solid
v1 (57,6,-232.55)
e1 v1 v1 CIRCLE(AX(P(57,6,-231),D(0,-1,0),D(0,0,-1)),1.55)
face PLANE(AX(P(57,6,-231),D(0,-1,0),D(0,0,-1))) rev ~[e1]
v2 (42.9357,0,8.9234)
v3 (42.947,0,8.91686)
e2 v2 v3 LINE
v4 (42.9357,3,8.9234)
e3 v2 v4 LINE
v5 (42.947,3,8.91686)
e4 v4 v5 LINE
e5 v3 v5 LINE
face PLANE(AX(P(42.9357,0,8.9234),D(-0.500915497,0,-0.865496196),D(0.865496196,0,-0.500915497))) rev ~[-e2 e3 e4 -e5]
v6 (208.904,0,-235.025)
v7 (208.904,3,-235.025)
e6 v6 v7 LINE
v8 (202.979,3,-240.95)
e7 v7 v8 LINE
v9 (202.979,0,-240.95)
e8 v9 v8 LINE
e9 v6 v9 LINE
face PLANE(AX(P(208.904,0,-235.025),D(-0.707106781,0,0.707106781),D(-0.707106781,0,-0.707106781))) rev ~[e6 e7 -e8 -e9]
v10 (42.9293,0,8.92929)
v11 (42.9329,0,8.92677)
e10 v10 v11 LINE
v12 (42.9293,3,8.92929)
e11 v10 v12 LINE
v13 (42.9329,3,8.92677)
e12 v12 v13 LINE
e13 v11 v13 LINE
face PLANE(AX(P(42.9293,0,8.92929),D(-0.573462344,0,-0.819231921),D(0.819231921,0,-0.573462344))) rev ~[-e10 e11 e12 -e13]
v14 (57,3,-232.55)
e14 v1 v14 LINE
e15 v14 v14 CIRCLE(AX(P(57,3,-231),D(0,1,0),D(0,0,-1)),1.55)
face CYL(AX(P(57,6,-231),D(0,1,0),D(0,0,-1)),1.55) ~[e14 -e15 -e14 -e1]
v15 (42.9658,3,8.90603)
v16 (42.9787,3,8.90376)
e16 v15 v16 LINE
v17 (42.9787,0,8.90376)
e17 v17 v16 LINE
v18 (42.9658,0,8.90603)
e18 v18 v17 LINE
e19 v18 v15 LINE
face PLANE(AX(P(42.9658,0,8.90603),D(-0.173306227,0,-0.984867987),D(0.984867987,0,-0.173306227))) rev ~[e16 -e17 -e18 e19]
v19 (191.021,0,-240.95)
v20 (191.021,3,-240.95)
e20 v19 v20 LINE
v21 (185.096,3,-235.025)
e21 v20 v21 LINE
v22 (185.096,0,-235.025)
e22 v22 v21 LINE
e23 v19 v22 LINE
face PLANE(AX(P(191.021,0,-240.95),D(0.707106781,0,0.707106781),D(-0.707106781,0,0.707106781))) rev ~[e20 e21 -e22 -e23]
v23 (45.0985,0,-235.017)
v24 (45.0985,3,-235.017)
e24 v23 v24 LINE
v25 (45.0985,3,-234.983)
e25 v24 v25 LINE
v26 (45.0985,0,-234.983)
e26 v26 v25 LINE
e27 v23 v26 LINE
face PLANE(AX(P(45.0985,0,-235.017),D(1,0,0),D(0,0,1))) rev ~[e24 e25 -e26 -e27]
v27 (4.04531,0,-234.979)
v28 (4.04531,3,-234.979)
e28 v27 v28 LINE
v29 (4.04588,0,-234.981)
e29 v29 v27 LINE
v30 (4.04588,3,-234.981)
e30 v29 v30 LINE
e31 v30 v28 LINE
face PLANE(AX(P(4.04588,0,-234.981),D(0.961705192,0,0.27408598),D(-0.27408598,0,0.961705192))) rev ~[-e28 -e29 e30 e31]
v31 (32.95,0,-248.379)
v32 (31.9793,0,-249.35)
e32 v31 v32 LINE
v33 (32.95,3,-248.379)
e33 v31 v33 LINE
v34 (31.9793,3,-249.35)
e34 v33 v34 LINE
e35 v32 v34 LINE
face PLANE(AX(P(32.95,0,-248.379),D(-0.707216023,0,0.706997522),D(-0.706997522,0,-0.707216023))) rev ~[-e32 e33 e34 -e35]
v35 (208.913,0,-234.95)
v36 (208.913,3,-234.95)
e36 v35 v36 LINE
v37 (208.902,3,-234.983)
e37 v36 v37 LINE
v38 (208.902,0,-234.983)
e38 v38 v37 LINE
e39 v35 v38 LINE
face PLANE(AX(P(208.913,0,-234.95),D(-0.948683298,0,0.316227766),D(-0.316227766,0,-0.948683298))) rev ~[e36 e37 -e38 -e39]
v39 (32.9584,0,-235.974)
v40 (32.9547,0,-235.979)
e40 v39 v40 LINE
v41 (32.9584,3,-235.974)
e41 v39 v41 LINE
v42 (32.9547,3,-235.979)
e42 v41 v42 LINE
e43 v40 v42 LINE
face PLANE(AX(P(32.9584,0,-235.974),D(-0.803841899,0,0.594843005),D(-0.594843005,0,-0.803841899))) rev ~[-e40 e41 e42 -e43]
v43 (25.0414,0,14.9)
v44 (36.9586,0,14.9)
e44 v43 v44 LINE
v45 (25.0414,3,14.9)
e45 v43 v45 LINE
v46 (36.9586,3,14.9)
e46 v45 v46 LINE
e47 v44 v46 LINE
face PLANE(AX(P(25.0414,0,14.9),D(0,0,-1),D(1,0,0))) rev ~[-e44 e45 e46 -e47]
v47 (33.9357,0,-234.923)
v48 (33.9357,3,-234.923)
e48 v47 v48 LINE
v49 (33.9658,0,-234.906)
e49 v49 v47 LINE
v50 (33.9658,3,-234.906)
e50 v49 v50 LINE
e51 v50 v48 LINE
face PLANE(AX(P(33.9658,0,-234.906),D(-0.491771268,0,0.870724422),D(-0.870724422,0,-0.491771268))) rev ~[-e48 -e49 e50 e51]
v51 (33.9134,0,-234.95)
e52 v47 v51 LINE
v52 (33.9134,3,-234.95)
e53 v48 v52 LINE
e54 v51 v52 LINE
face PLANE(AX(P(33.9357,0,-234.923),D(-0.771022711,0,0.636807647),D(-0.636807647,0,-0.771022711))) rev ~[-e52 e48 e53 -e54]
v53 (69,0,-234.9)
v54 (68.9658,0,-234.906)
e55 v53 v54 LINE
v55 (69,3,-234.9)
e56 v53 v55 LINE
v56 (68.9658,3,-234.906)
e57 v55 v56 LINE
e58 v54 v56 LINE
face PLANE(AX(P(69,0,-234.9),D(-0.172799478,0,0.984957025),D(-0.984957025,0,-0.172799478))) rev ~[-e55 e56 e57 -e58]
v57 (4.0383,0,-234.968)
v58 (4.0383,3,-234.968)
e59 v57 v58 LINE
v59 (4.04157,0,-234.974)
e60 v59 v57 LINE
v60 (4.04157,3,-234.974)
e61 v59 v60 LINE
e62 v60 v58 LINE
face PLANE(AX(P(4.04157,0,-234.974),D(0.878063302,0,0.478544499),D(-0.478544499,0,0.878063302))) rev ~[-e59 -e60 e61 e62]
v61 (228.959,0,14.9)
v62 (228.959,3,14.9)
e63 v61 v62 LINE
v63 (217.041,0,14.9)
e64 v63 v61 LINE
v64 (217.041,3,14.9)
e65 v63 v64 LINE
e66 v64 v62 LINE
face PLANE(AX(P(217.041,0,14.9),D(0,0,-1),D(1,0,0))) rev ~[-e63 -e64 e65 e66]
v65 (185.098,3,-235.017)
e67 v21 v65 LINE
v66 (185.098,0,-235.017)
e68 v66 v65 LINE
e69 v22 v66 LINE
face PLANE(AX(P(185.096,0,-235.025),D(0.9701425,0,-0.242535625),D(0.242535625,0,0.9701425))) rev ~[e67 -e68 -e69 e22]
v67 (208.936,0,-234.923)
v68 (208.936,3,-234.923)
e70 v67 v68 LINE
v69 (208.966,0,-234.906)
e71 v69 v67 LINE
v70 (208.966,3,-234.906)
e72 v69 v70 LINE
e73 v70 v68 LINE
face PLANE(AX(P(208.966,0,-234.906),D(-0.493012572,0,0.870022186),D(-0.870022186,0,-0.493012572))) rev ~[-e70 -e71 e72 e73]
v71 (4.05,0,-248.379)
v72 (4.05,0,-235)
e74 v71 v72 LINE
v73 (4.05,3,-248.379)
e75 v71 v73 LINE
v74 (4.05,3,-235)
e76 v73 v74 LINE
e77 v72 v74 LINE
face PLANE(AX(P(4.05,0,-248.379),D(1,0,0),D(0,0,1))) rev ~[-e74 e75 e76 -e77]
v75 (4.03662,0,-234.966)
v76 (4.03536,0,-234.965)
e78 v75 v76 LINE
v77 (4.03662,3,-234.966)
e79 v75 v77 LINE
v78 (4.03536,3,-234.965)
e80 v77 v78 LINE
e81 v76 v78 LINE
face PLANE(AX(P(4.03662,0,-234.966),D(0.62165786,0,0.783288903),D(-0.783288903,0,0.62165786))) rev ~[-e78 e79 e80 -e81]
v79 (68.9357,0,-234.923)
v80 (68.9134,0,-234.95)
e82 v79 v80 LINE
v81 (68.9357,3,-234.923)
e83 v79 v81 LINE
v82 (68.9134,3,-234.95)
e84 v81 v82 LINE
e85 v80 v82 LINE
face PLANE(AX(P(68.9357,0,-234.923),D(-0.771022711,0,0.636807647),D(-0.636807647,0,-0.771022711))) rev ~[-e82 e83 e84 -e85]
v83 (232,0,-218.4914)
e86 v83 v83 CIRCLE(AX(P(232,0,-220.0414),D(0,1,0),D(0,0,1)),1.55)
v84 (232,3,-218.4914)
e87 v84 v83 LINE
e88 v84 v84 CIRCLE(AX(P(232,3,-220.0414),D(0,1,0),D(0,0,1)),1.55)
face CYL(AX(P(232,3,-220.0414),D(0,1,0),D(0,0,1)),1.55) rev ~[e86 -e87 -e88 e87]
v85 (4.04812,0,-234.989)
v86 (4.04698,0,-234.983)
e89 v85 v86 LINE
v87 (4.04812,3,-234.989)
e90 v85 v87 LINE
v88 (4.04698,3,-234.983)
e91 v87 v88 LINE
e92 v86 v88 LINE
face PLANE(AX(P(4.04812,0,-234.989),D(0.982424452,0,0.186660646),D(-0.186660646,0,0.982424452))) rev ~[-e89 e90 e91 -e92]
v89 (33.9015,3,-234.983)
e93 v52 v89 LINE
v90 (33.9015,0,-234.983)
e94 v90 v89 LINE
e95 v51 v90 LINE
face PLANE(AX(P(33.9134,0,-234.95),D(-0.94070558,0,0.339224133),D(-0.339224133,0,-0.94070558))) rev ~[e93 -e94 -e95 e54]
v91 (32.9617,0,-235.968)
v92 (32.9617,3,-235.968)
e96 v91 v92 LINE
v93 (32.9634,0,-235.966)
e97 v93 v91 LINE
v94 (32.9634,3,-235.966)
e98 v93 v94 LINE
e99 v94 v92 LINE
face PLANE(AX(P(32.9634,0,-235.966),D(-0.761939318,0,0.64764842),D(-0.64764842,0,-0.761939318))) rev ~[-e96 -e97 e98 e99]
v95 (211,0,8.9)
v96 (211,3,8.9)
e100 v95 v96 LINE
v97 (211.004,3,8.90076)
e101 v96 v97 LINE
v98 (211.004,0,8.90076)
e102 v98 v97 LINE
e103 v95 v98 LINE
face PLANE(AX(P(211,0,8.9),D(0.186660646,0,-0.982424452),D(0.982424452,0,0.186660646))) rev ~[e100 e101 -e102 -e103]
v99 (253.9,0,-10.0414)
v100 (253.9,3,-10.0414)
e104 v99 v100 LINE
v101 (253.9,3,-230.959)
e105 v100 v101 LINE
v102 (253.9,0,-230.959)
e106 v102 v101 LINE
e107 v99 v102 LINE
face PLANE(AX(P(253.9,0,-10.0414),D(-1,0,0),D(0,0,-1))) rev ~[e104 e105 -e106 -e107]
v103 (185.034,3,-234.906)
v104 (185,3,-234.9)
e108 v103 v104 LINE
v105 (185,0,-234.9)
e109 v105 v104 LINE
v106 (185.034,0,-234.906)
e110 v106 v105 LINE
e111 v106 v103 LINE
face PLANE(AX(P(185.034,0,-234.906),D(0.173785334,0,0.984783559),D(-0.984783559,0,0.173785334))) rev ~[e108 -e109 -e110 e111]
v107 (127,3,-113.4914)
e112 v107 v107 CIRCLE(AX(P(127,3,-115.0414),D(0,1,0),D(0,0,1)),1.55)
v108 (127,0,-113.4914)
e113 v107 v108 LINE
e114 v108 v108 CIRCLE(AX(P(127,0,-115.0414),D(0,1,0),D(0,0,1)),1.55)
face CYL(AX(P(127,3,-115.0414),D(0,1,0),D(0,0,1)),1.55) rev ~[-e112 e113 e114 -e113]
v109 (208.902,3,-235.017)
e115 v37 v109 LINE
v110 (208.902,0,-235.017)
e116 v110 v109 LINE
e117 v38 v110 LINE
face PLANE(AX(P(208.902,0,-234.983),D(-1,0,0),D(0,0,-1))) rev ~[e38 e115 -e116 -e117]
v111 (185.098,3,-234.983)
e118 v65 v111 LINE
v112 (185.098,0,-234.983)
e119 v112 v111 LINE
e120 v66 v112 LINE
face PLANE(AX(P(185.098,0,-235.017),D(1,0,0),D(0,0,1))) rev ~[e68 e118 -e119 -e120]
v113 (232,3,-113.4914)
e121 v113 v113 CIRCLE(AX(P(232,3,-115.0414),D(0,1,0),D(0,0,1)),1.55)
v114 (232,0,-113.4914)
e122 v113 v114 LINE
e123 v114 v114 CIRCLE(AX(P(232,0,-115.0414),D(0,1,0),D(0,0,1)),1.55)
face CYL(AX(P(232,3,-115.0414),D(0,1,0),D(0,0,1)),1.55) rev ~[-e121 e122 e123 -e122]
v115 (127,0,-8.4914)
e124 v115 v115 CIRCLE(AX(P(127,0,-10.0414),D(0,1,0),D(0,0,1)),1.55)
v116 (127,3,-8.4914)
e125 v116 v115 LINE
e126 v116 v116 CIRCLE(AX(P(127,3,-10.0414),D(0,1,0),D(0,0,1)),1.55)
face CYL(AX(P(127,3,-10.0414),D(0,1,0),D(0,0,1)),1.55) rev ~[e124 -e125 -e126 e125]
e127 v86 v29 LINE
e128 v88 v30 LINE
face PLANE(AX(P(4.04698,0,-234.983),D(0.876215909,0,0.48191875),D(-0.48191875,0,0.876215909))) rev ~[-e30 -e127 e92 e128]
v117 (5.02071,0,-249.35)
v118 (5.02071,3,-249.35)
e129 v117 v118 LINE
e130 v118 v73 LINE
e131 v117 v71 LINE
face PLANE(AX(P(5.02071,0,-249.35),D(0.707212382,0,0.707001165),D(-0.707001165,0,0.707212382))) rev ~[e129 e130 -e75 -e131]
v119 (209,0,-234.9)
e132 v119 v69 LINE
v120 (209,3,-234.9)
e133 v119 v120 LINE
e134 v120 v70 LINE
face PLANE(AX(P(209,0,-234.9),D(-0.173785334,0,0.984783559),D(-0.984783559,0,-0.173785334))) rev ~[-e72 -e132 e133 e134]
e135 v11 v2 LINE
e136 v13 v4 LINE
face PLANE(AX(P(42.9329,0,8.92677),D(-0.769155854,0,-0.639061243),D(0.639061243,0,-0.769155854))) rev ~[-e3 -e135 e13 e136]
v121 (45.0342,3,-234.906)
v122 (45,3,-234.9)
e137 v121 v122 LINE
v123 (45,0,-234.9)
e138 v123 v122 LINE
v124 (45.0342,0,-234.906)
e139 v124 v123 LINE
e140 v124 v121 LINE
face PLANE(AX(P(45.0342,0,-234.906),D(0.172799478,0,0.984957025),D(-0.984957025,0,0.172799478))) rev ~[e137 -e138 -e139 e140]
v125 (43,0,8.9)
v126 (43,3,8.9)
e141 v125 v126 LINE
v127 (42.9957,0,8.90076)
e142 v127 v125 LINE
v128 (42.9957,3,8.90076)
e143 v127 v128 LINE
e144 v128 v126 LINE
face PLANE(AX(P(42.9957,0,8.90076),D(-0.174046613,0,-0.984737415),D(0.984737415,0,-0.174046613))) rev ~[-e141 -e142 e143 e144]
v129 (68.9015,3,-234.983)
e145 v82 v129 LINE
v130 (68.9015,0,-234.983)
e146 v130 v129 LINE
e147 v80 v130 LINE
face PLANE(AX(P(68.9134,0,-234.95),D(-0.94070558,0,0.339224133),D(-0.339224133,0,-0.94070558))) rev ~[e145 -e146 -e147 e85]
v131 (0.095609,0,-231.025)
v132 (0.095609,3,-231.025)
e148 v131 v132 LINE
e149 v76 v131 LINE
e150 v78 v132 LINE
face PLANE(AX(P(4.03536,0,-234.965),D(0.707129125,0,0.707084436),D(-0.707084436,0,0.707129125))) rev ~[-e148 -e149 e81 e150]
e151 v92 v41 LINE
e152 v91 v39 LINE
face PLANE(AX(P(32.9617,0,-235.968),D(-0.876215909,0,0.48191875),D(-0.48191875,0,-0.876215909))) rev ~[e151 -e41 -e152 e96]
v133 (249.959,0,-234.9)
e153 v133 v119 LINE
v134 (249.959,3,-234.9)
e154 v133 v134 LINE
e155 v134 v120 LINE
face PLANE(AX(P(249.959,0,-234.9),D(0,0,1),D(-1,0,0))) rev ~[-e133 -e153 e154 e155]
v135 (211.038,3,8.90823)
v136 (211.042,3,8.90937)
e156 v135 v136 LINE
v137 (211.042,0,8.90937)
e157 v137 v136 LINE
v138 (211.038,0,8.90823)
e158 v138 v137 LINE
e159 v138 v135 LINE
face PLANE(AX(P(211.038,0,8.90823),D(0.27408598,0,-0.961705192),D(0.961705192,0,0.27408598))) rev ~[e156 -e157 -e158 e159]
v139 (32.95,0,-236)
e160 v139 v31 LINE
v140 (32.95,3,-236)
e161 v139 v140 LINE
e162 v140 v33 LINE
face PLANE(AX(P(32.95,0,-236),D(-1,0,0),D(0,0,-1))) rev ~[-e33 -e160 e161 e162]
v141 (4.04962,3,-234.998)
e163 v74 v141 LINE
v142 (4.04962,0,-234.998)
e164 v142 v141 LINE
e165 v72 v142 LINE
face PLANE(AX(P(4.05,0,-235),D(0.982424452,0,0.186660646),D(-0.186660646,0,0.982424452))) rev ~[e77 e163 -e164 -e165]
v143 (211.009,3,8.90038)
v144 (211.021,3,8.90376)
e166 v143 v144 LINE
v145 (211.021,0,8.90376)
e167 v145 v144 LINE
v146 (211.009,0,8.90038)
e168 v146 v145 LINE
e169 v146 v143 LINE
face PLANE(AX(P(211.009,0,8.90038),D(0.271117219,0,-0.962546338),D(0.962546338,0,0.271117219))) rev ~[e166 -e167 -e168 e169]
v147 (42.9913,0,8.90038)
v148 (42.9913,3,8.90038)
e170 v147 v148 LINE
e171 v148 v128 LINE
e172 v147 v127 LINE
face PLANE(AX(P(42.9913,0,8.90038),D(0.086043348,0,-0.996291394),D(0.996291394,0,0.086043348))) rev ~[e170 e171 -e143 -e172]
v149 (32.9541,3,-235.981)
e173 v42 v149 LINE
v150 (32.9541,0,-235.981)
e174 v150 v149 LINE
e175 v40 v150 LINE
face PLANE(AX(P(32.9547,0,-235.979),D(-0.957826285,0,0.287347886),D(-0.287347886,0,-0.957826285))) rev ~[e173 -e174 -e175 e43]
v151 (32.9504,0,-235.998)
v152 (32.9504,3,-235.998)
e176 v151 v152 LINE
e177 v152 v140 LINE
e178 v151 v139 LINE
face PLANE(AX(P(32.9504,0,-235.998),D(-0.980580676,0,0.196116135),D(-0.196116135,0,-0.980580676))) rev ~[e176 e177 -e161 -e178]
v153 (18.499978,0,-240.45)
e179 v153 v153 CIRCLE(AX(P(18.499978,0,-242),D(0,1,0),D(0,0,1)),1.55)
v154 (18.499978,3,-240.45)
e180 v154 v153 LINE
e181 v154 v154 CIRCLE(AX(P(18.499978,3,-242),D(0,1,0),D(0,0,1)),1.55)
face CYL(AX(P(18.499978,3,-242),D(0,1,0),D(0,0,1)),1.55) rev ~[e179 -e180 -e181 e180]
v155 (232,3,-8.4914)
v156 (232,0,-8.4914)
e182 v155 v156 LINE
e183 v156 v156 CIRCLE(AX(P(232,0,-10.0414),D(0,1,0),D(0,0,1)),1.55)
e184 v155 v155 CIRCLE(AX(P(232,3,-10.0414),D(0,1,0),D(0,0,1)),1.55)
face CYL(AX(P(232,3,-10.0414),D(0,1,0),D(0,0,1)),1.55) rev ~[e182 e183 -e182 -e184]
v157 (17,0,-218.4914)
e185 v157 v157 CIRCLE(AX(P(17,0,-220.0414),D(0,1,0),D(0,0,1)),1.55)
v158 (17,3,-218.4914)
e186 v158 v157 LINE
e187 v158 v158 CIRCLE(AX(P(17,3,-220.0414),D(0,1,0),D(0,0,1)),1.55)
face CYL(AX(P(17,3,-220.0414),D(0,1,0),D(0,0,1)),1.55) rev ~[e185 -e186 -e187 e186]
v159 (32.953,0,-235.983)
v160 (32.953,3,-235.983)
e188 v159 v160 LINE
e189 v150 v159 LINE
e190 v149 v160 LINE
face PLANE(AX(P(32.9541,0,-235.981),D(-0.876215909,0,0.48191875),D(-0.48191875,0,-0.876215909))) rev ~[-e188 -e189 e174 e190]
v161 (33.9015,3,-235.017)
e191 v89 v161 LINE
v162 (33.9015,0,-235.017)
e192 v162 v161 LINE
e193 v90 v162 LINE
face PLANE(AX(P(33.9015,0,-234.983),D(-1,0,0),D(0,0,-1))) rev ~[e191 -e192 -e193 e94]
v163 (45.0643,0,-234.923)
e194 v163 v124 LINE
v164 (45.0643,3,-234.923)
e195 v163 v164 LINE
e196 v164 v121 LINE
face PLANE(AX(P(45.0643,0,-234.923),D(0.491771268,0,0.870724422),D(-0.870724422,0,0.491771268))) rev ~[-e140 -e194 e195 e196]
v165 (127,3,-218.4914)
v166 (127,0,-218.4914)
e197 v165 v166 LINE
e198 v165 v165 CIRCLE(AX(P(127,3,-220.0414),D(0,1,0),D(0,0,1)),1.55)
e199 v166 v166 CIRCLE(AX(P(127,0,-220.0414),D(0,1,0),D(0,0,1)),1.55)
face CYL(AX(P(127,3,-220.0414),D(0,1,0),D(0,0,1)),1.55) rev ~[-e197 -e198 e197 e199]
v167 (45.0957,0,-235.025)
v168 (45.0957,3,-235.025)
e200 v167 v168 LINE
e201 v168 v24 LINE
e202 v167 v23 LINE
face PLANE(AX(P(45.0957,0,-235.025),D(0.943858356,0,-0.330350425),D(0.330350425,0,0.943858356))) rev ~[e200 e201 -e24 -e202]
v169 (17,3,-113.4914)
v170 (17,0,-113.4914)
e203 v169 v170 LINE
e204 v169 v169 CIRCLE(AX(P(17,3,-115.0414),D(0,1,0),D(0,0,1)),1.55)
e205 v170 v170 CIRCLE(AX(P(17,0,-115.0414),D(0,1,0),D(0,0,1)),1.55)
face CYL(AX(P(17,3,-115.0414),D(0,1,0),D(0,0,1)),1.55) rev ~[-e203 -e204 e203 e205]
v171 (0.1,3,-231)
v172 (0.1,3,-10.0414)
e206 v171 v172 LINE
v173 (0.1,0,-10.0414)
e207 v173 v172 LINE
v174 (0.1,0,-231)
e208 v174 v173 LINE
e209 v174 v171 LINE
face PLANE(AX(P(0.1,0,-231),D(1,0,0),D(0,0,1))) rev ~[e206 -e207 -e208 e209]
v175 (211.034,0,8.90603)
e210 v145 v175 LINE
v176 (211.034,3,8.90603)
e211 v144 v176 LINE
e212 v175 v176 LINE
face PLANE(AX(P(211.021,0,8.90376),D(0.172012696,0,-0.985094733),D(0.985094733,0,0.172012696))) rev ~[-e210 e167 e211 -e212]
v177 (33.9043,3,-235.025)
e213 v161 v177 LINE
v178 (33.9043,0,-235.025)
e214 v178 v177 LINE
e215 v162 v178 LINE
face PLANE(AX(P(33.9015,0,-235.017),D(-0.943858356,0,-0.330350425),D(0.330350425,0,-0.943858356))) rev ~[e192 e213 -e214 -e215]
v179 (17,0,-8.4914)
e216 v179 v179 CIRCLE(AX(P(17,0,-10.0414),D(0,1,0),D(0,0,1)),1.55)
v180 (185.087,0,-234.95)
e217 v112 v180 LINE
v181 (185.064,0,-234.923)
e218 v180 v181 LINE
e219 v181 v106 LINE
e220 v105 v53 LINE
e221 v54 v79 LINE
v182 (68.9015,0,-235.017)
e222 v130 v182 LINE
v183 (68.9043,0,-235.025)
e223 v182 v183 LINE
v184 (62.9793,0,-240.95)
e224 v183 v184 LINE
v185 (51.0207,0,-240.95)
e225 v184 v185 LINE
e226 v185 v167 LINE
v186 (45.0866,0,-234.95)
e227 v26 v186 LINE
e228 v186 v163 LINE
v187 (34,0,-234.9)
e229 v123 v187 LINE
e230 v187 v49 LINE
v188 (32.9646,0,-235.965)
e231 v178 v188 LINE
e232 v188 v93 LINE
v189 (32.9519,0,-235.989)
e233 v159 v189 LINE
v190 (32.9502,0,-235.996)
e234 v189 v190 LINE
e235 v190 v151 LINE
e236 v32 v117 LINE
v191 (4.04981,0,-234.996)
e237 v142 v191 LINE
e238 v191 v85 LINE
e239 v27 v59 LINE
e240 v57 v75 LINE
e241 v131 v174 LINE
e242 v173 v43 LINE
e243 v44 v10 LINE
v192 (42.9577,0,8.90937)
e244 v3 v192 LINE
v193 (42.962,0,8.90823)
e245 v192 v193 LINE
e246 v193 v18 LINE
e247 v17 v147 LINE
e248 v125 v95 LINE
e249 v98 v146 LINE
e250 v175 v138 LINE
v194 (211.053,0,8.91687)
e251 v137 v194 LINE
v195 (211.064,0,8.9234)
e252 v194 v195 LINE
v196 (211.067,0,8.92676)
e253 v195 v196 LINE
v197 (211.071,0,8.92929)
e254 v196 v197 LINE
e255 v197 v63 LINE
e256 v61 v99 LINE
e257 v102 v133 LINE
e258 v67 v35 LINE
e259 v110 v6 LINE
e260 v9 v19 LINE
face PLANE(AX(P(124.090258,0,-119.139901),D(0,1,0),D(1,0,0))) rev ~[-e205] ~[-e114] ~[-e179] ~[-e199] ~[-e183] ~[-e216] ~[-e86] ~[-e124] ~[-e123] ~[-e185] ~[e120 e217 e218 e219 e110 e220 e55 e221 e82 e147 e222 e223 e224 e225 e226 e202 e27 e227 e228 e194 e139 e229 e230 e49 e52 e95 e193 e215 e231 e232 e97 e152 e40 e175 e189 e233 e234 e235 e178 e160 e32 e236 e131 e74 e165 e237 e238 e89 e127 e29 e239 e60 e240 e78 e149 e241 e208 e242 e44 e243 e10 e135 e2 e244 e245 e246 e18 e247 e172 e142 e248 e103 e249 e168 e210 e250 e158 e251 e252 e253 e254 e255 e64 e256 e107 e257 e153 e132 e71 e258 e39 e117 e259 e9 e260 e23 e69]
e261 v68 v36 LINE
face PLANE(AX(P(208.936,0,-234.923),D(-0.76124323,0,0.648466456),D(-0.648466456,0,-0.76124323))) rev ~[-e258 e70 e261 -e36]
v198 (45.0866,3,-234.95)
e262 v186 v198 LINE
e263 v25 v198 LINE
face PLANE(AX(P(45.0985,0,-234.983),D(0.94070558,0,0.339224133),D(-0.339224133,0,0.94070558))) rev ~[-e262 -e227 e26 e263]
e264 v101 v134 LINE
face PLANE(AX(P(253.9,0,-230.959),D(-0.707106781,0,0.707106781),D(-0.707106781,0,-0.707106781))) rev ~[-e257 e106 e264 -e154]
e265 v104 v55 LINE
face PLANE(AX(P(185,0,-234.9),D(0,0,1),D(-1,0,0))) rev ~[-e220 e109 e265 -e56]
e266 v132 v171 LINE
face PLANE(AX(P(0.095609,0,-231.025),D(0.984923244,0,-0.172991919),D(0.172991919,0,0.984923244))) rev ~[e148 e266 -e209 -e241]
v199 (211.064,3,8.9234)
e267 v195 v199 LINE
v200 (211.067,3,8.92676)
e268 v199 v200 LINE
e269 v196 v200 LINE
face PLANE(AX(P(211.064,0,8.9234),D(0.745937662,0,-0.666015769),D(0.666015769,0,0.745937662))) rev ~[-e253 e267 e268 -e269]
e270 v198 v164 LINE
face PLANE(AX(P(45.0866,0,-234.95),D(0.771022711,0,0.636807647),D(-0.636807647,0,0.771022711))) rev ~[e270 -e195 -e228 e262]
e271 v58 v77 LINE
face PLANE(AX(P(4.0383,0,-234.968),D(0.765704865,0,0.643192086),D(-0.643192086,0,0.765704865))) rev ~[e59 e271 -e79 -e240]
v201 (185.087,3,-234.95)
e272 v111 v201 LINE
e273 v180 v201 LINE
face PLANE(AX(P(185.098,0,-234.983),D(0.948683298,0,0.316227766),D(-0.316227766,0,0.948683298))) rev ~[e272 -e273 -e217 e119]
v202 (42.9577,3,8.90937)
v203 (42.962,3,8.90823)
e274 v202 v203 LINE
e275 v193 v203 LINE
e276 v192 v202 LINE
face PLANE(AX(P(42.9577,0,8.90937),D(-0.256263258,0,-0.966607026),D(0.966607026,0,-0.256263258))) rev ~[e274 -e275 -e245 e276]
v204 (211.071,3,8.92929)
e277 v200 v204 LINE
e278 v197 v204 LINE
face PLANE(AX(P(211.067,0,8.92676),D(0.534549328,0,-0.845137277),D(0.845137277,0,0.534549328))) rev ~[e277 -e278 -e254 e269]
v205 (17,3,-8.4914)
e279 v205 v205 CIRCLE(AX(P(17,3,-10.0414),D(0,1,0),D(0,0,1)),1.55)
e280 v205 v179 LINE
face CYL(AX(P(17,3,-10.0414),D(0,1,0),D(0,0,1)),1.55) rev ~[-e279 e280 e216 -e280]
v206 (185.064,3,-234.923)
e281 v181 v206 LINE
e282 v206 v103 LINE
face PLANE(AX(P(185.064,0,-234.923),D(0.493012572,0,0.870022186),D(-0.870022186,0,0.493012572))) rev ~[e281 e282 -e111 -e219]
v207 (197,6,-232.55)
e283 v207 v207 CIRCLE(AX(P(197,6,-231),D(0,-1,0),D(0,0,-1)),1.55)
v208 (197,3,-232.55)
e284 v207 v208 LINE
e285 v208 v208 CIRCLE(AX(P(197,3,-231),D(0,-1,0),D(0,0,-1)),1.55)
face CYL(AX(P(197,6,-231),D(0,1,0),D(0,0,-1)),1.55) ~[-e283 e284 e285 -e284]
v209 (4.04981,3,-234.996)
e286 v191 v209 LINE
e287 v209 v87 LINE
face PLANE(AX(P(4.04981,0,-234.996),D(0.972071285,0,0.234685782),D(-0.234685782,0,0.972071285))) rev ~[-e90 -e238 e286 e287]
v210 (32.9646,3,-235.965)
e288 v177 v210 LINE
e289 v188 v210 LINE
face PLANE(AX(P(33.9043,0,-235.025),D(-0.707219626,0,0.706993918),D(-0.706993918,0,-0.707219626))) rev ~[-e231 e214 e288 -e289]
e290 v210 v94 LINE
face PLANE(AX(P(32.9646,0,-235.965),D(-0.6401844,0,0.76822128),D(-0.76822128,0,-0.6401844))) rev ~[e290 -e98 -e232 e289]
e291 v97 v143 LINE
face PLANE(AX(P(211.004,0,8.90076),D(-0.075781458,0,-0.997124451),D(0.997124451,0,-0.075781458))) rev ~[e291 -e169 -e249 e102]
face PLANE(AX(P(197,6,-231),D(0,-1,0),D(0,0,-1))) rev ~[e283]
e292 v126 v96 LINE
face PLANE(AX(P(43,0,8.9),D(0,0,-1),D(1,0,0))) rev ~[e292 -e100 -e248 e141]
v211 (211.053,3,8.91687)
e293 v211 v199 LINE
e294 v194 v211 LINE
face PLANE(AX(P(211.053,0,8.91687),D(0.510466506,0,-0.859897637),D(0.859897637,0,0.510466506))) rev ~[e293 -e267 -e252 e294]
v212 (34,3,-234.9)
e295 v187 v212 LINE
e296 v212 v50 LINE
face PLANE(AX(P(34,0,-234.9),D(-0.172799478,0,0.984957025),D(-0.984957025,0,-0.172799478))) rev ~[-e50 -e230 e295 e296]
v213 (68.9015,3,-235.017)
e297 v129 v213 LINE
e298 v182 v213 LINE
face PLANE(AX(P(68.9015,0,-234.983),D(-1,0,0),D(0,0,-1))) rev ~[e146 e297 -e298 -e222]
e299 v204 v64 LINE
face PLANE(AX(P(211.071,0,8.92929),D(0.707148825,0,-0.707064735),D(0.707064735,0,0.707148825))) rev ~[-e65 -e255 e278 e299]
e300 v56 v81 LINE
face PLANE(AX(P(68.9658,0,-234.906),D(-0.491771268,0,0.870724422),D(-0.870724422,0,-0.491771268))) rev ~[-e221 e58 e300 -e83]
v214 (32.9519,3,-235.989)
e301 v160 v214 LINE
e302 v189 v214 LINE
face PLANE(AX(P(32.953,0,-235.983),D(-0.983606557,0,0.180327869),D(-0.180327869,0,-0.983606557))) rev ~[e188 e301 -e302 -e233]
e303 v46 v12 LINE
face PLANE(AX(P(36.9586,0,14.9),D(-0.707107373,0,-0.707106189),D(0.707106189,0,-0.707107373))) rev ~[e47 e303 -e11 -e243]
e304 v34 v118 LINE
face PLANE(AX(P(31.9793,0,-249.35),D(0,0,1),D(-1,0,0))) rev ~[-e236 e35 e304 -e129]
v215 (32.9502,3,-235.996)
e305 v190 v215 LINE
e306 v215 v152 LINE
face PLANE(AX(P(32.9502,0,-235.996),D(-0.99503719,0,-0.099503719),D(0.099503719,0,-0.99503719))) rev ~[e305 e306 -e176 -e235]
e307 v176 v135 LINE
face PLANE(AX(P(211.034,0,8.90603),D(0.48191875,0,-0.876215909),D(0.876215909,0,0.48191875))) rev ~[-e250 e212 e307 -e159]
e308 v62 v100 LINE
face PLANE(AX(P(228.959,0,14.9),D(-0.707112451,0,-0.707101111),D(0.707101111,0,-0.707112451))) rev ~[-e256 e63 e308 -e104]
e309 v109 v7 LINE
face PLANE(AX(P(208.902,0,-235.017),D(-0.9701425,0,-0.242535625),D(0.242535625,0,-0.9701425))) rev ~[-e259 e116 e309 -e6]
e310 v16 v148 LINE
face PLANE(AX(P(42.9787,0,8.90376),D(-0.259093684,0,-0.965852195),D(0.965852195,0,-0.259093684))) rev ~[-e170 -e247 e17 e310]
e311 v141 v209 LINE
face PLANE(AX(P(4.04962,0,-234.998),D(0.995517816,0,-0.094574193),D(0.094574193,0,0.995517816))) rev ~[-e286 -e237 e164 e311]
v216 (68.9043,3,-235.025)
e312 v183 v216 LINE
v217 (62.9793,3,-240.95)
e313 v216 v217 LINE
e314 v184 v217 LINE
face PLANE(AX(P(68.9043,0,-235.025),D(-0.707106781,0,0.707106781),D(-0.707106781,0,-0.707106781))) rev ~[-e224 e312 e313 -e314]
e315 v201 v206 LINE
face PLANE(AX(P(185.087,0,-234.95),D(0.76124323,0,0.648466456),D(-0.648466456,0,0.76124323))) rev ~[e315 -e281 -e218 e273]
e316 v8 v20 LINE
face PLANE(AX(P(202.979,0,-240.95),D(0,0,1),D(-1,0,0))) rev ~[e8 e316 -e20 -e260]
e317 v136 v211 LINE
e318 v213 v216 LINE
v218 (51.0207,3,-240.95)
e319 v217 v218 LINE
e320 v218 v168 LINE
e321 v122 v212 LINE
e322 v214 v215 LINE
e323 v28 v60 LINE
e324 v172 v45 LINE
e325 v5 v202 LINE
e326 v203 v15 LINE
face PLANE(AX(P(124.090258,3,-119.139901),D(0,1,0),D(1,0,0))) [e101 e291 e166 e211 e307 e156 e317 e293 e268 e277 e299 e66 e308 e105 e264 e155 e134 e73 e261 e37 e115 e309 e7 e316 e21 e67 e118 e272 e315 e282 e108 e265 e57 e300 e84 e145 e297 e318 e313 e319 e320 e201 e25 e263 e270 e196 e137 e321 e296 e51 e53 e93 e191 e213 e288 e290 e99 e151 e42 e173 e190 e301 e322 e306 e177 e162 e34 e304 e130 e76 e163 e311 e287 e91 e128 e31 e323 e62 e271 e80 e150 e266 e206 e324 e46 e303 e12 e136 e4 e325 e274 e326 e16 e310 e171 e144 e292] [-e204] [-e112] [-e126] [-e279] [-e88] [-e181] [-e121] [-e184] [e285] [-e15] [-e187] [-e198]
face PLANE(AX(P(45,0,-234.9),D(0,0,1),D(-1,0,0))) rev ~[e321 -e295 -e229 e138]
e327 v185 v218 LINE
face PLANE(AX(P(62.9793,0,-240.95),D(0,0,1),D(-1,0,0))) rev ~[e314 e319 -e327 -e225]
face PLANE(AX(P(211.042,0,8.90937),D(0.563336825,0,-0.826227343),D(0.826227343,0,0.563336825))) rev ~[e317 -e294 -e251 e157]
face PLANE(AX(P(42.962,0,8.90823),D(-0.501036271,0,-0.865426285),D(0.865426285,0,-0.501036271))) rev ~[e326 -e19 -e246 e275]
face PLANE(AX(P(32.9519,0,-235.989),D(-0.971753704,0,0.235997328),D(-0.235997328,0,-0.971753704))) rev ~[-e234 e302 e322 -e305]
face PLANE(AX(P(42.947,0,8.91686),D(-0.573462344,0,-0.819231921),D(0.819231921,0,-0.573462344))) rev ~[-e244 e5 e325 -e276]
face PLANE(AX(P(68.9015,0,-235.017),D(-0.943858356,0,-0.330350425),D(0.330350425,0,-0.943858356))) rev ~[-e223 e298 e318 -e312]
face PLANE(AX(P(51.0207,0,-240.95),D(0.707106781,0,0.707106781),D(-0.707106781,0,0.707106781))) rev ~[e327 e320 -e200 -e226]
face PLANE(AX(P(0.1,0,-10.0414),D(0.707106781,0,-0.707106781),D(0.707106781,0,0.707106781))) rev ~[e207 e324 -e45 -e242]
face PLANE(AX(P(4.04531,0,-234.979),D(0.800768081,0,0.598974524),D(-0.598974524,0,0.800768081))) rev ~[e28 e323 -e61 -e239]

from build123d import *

# Parameters (mm, degrees)
BOSS_EXTRUDE1_DEPTH = 3
SKETCH2_R           = 1.55
CUT_EXTRUDE1_DEPTH  = 356.878676658
BOSS_EXTRUDE3_START = -6
SKETCH3_R           = 1.55
BOSS_EXTRUDE3_DEPTH = 6


with BuildPart() as part:
    # Sketch1 → Boss-Extrude1 (new body)
    with BuildSketch(Plane(origin=(0, 0, 0), x_dir=(1, 0, 0), z_dir=(0, 1, 0))):
        Polygon((5.02071, 249.35), (4.05, 248.379), (4.05, 235), (4.04962, 234.998), (4.04981, 234.996), (4.04812, 234.989), (4.04698, 234.983), (4.04588, 234.981), (4.04531, 234.979), (4.04157, 234.974), (4.0383, 234.968), (4.03662, 234.966), (4.03536, 234.965), (0.095609, 231.025), (0.1, 231), (0.1, 10.0414), (25.0414, -14.9), (36.9586, -14.9), (42.9293, -8.92929), (42.9329, -8.92677), (42.9357, -8.9234), (42.947, -8.91686), (42.9577, -8.90937), (42.962, -8.90823), (42.9658, -8.90603), (42.9787, -8.90376), (42.9913, -8.90038), (42.9957, -8.90076), (43, -8.9), (211, -8.9), (211.004, -8.90076), (211.009, -8.90038), (211.021, -8.90376), (211.034, -8.90603), (211.038, -8.90823), (211.042, -8.90937), (211.053, -8.91687), (211.064, -8.9234), (211.067, -8.92676), (211.071, -8.92929), (217.041, -14.9), (228.959, -14.9), (253.9, 10.0414), (253.9, 230.959), (249.959, 234.9), (209, 234.9), (208.966, 234.906), (208.936, 234.923), (208.913, 234.95), (208.902, 234.983), (208.902, 235.017), (208.904, 235.025), (202.979, 240.95), (191.021, 240.95), (185.096, 235.025), (185.098, 235.017), (185.098, 234.983), (185.087, 234.95), (185.064, 234.923), (185.034, 234.906), (185, 234.9), (69, 234.9), (68.9658, 234.906), (68.9357, 234.923), (68.9134, 234.95), (68.9015, 234.983), (68.9015, 235.017), (68.9043, 235.025), (62.9793, 240.95), (51.0207, 240.95), (45.0957, 235.025), (45.0985, 235.017), (45.0985, 234.983), (45.0866, 234.95), (45.0643, 234.923), (45.0342, 234.906), (45, 234.9), (34, 234.9), (33.9658, 234.906), (33.9357, 234.923), (33.9134, 234.95), (33.9015, 234.983), (33.9015, 235.017), (33.9043, 235.025), (32.9646, 235.965), (32.9634, 235.966), (32.9617, 235.968), (32.9584, 235.974), (32.9547, 235.979), (32.9541, 235.981), (32.953, 235.983), (32.9519, 235.989), (32.9502, 235.996), (32.9504, 235.998), (32.95, 236), (32.95, 248.379), (31.9793, 249.35), align=None)
    extrude(amount=BOSS_EXTRUDE1_DEPTH)

    # Sketch2 → Cut-Extrude1 (cut, through all)
    with BuildSketch(Plane(origin=(0, 3, 0), x_dir=(1, 0, 0), z_dir=(0, 1, 0))):
        with Locations(Location((17, 10.0414, 0), (0, 0, 270))):
            Circle(SKETCH2_R)
        with Locations(Location((127, 10.0414, 0), (0, 0, 270))):
            Circle(SKETCH2_R)
        with Locations(Location((232, 10.0414, 0), (0, 0, 270))):
            Circle(SKETCH2_R)
        with Locations(Location((232, 115.0414, 0), (0, 0, 270))):
            Circle(SKETCH2_R)
        with Locations(Location((232, 220.0414, 0), (0, 0, 270))):
            Circle(SKETCH2_R)
        with Locations(Location((127, 115.0414, 0), (0, 0, 270))):
            Circle(SKETCH2_R)
        with Locations(Location((17, 115.0414, 0), (0, 0, 270))):
            Circle(SKETCH2_R)
        with Locations(Location((17, 220.0414, 0), (0, 0, 270))):
            Circle(SKETCH2_R)
        with Locations(Location((127, 220.0414, 0), (0, 0, 270))):
            Circle(SKETCH2_R)
        with Locations(Location((197, 231, 0), (0, 0, 270))):
            Circle(SKETCH2_R)
        with Locations(Location((57, 231, 0), (0, 0, 270))):
            Circle(SKETCH2_R)
        with Locations(Location((18.499978099, 242, 0), (0, 0, 270))):
            Circle(SKETCH2_R)
    extrude(amount=-CUT_EXTRUDE1_DEPTH, mode=Mode.SUBTRACT)

    # Sketch3 → Boss-Extrude3 (add)
    with BuildSketch(Plane.XZ.offset(BOSS_EXTRUDE3_START)):
        with Locations(Location((57, -231, 0), (0, 0, 270))):
            Circle(SKETCH3_R)
        with Locations(Location((197, -231, 0), (0, 0, 270))):
            Circle(SKETCH3_R)
    extrude(amount=BOSS_EXTRUDE3_DEPTH)


solid = part.part
